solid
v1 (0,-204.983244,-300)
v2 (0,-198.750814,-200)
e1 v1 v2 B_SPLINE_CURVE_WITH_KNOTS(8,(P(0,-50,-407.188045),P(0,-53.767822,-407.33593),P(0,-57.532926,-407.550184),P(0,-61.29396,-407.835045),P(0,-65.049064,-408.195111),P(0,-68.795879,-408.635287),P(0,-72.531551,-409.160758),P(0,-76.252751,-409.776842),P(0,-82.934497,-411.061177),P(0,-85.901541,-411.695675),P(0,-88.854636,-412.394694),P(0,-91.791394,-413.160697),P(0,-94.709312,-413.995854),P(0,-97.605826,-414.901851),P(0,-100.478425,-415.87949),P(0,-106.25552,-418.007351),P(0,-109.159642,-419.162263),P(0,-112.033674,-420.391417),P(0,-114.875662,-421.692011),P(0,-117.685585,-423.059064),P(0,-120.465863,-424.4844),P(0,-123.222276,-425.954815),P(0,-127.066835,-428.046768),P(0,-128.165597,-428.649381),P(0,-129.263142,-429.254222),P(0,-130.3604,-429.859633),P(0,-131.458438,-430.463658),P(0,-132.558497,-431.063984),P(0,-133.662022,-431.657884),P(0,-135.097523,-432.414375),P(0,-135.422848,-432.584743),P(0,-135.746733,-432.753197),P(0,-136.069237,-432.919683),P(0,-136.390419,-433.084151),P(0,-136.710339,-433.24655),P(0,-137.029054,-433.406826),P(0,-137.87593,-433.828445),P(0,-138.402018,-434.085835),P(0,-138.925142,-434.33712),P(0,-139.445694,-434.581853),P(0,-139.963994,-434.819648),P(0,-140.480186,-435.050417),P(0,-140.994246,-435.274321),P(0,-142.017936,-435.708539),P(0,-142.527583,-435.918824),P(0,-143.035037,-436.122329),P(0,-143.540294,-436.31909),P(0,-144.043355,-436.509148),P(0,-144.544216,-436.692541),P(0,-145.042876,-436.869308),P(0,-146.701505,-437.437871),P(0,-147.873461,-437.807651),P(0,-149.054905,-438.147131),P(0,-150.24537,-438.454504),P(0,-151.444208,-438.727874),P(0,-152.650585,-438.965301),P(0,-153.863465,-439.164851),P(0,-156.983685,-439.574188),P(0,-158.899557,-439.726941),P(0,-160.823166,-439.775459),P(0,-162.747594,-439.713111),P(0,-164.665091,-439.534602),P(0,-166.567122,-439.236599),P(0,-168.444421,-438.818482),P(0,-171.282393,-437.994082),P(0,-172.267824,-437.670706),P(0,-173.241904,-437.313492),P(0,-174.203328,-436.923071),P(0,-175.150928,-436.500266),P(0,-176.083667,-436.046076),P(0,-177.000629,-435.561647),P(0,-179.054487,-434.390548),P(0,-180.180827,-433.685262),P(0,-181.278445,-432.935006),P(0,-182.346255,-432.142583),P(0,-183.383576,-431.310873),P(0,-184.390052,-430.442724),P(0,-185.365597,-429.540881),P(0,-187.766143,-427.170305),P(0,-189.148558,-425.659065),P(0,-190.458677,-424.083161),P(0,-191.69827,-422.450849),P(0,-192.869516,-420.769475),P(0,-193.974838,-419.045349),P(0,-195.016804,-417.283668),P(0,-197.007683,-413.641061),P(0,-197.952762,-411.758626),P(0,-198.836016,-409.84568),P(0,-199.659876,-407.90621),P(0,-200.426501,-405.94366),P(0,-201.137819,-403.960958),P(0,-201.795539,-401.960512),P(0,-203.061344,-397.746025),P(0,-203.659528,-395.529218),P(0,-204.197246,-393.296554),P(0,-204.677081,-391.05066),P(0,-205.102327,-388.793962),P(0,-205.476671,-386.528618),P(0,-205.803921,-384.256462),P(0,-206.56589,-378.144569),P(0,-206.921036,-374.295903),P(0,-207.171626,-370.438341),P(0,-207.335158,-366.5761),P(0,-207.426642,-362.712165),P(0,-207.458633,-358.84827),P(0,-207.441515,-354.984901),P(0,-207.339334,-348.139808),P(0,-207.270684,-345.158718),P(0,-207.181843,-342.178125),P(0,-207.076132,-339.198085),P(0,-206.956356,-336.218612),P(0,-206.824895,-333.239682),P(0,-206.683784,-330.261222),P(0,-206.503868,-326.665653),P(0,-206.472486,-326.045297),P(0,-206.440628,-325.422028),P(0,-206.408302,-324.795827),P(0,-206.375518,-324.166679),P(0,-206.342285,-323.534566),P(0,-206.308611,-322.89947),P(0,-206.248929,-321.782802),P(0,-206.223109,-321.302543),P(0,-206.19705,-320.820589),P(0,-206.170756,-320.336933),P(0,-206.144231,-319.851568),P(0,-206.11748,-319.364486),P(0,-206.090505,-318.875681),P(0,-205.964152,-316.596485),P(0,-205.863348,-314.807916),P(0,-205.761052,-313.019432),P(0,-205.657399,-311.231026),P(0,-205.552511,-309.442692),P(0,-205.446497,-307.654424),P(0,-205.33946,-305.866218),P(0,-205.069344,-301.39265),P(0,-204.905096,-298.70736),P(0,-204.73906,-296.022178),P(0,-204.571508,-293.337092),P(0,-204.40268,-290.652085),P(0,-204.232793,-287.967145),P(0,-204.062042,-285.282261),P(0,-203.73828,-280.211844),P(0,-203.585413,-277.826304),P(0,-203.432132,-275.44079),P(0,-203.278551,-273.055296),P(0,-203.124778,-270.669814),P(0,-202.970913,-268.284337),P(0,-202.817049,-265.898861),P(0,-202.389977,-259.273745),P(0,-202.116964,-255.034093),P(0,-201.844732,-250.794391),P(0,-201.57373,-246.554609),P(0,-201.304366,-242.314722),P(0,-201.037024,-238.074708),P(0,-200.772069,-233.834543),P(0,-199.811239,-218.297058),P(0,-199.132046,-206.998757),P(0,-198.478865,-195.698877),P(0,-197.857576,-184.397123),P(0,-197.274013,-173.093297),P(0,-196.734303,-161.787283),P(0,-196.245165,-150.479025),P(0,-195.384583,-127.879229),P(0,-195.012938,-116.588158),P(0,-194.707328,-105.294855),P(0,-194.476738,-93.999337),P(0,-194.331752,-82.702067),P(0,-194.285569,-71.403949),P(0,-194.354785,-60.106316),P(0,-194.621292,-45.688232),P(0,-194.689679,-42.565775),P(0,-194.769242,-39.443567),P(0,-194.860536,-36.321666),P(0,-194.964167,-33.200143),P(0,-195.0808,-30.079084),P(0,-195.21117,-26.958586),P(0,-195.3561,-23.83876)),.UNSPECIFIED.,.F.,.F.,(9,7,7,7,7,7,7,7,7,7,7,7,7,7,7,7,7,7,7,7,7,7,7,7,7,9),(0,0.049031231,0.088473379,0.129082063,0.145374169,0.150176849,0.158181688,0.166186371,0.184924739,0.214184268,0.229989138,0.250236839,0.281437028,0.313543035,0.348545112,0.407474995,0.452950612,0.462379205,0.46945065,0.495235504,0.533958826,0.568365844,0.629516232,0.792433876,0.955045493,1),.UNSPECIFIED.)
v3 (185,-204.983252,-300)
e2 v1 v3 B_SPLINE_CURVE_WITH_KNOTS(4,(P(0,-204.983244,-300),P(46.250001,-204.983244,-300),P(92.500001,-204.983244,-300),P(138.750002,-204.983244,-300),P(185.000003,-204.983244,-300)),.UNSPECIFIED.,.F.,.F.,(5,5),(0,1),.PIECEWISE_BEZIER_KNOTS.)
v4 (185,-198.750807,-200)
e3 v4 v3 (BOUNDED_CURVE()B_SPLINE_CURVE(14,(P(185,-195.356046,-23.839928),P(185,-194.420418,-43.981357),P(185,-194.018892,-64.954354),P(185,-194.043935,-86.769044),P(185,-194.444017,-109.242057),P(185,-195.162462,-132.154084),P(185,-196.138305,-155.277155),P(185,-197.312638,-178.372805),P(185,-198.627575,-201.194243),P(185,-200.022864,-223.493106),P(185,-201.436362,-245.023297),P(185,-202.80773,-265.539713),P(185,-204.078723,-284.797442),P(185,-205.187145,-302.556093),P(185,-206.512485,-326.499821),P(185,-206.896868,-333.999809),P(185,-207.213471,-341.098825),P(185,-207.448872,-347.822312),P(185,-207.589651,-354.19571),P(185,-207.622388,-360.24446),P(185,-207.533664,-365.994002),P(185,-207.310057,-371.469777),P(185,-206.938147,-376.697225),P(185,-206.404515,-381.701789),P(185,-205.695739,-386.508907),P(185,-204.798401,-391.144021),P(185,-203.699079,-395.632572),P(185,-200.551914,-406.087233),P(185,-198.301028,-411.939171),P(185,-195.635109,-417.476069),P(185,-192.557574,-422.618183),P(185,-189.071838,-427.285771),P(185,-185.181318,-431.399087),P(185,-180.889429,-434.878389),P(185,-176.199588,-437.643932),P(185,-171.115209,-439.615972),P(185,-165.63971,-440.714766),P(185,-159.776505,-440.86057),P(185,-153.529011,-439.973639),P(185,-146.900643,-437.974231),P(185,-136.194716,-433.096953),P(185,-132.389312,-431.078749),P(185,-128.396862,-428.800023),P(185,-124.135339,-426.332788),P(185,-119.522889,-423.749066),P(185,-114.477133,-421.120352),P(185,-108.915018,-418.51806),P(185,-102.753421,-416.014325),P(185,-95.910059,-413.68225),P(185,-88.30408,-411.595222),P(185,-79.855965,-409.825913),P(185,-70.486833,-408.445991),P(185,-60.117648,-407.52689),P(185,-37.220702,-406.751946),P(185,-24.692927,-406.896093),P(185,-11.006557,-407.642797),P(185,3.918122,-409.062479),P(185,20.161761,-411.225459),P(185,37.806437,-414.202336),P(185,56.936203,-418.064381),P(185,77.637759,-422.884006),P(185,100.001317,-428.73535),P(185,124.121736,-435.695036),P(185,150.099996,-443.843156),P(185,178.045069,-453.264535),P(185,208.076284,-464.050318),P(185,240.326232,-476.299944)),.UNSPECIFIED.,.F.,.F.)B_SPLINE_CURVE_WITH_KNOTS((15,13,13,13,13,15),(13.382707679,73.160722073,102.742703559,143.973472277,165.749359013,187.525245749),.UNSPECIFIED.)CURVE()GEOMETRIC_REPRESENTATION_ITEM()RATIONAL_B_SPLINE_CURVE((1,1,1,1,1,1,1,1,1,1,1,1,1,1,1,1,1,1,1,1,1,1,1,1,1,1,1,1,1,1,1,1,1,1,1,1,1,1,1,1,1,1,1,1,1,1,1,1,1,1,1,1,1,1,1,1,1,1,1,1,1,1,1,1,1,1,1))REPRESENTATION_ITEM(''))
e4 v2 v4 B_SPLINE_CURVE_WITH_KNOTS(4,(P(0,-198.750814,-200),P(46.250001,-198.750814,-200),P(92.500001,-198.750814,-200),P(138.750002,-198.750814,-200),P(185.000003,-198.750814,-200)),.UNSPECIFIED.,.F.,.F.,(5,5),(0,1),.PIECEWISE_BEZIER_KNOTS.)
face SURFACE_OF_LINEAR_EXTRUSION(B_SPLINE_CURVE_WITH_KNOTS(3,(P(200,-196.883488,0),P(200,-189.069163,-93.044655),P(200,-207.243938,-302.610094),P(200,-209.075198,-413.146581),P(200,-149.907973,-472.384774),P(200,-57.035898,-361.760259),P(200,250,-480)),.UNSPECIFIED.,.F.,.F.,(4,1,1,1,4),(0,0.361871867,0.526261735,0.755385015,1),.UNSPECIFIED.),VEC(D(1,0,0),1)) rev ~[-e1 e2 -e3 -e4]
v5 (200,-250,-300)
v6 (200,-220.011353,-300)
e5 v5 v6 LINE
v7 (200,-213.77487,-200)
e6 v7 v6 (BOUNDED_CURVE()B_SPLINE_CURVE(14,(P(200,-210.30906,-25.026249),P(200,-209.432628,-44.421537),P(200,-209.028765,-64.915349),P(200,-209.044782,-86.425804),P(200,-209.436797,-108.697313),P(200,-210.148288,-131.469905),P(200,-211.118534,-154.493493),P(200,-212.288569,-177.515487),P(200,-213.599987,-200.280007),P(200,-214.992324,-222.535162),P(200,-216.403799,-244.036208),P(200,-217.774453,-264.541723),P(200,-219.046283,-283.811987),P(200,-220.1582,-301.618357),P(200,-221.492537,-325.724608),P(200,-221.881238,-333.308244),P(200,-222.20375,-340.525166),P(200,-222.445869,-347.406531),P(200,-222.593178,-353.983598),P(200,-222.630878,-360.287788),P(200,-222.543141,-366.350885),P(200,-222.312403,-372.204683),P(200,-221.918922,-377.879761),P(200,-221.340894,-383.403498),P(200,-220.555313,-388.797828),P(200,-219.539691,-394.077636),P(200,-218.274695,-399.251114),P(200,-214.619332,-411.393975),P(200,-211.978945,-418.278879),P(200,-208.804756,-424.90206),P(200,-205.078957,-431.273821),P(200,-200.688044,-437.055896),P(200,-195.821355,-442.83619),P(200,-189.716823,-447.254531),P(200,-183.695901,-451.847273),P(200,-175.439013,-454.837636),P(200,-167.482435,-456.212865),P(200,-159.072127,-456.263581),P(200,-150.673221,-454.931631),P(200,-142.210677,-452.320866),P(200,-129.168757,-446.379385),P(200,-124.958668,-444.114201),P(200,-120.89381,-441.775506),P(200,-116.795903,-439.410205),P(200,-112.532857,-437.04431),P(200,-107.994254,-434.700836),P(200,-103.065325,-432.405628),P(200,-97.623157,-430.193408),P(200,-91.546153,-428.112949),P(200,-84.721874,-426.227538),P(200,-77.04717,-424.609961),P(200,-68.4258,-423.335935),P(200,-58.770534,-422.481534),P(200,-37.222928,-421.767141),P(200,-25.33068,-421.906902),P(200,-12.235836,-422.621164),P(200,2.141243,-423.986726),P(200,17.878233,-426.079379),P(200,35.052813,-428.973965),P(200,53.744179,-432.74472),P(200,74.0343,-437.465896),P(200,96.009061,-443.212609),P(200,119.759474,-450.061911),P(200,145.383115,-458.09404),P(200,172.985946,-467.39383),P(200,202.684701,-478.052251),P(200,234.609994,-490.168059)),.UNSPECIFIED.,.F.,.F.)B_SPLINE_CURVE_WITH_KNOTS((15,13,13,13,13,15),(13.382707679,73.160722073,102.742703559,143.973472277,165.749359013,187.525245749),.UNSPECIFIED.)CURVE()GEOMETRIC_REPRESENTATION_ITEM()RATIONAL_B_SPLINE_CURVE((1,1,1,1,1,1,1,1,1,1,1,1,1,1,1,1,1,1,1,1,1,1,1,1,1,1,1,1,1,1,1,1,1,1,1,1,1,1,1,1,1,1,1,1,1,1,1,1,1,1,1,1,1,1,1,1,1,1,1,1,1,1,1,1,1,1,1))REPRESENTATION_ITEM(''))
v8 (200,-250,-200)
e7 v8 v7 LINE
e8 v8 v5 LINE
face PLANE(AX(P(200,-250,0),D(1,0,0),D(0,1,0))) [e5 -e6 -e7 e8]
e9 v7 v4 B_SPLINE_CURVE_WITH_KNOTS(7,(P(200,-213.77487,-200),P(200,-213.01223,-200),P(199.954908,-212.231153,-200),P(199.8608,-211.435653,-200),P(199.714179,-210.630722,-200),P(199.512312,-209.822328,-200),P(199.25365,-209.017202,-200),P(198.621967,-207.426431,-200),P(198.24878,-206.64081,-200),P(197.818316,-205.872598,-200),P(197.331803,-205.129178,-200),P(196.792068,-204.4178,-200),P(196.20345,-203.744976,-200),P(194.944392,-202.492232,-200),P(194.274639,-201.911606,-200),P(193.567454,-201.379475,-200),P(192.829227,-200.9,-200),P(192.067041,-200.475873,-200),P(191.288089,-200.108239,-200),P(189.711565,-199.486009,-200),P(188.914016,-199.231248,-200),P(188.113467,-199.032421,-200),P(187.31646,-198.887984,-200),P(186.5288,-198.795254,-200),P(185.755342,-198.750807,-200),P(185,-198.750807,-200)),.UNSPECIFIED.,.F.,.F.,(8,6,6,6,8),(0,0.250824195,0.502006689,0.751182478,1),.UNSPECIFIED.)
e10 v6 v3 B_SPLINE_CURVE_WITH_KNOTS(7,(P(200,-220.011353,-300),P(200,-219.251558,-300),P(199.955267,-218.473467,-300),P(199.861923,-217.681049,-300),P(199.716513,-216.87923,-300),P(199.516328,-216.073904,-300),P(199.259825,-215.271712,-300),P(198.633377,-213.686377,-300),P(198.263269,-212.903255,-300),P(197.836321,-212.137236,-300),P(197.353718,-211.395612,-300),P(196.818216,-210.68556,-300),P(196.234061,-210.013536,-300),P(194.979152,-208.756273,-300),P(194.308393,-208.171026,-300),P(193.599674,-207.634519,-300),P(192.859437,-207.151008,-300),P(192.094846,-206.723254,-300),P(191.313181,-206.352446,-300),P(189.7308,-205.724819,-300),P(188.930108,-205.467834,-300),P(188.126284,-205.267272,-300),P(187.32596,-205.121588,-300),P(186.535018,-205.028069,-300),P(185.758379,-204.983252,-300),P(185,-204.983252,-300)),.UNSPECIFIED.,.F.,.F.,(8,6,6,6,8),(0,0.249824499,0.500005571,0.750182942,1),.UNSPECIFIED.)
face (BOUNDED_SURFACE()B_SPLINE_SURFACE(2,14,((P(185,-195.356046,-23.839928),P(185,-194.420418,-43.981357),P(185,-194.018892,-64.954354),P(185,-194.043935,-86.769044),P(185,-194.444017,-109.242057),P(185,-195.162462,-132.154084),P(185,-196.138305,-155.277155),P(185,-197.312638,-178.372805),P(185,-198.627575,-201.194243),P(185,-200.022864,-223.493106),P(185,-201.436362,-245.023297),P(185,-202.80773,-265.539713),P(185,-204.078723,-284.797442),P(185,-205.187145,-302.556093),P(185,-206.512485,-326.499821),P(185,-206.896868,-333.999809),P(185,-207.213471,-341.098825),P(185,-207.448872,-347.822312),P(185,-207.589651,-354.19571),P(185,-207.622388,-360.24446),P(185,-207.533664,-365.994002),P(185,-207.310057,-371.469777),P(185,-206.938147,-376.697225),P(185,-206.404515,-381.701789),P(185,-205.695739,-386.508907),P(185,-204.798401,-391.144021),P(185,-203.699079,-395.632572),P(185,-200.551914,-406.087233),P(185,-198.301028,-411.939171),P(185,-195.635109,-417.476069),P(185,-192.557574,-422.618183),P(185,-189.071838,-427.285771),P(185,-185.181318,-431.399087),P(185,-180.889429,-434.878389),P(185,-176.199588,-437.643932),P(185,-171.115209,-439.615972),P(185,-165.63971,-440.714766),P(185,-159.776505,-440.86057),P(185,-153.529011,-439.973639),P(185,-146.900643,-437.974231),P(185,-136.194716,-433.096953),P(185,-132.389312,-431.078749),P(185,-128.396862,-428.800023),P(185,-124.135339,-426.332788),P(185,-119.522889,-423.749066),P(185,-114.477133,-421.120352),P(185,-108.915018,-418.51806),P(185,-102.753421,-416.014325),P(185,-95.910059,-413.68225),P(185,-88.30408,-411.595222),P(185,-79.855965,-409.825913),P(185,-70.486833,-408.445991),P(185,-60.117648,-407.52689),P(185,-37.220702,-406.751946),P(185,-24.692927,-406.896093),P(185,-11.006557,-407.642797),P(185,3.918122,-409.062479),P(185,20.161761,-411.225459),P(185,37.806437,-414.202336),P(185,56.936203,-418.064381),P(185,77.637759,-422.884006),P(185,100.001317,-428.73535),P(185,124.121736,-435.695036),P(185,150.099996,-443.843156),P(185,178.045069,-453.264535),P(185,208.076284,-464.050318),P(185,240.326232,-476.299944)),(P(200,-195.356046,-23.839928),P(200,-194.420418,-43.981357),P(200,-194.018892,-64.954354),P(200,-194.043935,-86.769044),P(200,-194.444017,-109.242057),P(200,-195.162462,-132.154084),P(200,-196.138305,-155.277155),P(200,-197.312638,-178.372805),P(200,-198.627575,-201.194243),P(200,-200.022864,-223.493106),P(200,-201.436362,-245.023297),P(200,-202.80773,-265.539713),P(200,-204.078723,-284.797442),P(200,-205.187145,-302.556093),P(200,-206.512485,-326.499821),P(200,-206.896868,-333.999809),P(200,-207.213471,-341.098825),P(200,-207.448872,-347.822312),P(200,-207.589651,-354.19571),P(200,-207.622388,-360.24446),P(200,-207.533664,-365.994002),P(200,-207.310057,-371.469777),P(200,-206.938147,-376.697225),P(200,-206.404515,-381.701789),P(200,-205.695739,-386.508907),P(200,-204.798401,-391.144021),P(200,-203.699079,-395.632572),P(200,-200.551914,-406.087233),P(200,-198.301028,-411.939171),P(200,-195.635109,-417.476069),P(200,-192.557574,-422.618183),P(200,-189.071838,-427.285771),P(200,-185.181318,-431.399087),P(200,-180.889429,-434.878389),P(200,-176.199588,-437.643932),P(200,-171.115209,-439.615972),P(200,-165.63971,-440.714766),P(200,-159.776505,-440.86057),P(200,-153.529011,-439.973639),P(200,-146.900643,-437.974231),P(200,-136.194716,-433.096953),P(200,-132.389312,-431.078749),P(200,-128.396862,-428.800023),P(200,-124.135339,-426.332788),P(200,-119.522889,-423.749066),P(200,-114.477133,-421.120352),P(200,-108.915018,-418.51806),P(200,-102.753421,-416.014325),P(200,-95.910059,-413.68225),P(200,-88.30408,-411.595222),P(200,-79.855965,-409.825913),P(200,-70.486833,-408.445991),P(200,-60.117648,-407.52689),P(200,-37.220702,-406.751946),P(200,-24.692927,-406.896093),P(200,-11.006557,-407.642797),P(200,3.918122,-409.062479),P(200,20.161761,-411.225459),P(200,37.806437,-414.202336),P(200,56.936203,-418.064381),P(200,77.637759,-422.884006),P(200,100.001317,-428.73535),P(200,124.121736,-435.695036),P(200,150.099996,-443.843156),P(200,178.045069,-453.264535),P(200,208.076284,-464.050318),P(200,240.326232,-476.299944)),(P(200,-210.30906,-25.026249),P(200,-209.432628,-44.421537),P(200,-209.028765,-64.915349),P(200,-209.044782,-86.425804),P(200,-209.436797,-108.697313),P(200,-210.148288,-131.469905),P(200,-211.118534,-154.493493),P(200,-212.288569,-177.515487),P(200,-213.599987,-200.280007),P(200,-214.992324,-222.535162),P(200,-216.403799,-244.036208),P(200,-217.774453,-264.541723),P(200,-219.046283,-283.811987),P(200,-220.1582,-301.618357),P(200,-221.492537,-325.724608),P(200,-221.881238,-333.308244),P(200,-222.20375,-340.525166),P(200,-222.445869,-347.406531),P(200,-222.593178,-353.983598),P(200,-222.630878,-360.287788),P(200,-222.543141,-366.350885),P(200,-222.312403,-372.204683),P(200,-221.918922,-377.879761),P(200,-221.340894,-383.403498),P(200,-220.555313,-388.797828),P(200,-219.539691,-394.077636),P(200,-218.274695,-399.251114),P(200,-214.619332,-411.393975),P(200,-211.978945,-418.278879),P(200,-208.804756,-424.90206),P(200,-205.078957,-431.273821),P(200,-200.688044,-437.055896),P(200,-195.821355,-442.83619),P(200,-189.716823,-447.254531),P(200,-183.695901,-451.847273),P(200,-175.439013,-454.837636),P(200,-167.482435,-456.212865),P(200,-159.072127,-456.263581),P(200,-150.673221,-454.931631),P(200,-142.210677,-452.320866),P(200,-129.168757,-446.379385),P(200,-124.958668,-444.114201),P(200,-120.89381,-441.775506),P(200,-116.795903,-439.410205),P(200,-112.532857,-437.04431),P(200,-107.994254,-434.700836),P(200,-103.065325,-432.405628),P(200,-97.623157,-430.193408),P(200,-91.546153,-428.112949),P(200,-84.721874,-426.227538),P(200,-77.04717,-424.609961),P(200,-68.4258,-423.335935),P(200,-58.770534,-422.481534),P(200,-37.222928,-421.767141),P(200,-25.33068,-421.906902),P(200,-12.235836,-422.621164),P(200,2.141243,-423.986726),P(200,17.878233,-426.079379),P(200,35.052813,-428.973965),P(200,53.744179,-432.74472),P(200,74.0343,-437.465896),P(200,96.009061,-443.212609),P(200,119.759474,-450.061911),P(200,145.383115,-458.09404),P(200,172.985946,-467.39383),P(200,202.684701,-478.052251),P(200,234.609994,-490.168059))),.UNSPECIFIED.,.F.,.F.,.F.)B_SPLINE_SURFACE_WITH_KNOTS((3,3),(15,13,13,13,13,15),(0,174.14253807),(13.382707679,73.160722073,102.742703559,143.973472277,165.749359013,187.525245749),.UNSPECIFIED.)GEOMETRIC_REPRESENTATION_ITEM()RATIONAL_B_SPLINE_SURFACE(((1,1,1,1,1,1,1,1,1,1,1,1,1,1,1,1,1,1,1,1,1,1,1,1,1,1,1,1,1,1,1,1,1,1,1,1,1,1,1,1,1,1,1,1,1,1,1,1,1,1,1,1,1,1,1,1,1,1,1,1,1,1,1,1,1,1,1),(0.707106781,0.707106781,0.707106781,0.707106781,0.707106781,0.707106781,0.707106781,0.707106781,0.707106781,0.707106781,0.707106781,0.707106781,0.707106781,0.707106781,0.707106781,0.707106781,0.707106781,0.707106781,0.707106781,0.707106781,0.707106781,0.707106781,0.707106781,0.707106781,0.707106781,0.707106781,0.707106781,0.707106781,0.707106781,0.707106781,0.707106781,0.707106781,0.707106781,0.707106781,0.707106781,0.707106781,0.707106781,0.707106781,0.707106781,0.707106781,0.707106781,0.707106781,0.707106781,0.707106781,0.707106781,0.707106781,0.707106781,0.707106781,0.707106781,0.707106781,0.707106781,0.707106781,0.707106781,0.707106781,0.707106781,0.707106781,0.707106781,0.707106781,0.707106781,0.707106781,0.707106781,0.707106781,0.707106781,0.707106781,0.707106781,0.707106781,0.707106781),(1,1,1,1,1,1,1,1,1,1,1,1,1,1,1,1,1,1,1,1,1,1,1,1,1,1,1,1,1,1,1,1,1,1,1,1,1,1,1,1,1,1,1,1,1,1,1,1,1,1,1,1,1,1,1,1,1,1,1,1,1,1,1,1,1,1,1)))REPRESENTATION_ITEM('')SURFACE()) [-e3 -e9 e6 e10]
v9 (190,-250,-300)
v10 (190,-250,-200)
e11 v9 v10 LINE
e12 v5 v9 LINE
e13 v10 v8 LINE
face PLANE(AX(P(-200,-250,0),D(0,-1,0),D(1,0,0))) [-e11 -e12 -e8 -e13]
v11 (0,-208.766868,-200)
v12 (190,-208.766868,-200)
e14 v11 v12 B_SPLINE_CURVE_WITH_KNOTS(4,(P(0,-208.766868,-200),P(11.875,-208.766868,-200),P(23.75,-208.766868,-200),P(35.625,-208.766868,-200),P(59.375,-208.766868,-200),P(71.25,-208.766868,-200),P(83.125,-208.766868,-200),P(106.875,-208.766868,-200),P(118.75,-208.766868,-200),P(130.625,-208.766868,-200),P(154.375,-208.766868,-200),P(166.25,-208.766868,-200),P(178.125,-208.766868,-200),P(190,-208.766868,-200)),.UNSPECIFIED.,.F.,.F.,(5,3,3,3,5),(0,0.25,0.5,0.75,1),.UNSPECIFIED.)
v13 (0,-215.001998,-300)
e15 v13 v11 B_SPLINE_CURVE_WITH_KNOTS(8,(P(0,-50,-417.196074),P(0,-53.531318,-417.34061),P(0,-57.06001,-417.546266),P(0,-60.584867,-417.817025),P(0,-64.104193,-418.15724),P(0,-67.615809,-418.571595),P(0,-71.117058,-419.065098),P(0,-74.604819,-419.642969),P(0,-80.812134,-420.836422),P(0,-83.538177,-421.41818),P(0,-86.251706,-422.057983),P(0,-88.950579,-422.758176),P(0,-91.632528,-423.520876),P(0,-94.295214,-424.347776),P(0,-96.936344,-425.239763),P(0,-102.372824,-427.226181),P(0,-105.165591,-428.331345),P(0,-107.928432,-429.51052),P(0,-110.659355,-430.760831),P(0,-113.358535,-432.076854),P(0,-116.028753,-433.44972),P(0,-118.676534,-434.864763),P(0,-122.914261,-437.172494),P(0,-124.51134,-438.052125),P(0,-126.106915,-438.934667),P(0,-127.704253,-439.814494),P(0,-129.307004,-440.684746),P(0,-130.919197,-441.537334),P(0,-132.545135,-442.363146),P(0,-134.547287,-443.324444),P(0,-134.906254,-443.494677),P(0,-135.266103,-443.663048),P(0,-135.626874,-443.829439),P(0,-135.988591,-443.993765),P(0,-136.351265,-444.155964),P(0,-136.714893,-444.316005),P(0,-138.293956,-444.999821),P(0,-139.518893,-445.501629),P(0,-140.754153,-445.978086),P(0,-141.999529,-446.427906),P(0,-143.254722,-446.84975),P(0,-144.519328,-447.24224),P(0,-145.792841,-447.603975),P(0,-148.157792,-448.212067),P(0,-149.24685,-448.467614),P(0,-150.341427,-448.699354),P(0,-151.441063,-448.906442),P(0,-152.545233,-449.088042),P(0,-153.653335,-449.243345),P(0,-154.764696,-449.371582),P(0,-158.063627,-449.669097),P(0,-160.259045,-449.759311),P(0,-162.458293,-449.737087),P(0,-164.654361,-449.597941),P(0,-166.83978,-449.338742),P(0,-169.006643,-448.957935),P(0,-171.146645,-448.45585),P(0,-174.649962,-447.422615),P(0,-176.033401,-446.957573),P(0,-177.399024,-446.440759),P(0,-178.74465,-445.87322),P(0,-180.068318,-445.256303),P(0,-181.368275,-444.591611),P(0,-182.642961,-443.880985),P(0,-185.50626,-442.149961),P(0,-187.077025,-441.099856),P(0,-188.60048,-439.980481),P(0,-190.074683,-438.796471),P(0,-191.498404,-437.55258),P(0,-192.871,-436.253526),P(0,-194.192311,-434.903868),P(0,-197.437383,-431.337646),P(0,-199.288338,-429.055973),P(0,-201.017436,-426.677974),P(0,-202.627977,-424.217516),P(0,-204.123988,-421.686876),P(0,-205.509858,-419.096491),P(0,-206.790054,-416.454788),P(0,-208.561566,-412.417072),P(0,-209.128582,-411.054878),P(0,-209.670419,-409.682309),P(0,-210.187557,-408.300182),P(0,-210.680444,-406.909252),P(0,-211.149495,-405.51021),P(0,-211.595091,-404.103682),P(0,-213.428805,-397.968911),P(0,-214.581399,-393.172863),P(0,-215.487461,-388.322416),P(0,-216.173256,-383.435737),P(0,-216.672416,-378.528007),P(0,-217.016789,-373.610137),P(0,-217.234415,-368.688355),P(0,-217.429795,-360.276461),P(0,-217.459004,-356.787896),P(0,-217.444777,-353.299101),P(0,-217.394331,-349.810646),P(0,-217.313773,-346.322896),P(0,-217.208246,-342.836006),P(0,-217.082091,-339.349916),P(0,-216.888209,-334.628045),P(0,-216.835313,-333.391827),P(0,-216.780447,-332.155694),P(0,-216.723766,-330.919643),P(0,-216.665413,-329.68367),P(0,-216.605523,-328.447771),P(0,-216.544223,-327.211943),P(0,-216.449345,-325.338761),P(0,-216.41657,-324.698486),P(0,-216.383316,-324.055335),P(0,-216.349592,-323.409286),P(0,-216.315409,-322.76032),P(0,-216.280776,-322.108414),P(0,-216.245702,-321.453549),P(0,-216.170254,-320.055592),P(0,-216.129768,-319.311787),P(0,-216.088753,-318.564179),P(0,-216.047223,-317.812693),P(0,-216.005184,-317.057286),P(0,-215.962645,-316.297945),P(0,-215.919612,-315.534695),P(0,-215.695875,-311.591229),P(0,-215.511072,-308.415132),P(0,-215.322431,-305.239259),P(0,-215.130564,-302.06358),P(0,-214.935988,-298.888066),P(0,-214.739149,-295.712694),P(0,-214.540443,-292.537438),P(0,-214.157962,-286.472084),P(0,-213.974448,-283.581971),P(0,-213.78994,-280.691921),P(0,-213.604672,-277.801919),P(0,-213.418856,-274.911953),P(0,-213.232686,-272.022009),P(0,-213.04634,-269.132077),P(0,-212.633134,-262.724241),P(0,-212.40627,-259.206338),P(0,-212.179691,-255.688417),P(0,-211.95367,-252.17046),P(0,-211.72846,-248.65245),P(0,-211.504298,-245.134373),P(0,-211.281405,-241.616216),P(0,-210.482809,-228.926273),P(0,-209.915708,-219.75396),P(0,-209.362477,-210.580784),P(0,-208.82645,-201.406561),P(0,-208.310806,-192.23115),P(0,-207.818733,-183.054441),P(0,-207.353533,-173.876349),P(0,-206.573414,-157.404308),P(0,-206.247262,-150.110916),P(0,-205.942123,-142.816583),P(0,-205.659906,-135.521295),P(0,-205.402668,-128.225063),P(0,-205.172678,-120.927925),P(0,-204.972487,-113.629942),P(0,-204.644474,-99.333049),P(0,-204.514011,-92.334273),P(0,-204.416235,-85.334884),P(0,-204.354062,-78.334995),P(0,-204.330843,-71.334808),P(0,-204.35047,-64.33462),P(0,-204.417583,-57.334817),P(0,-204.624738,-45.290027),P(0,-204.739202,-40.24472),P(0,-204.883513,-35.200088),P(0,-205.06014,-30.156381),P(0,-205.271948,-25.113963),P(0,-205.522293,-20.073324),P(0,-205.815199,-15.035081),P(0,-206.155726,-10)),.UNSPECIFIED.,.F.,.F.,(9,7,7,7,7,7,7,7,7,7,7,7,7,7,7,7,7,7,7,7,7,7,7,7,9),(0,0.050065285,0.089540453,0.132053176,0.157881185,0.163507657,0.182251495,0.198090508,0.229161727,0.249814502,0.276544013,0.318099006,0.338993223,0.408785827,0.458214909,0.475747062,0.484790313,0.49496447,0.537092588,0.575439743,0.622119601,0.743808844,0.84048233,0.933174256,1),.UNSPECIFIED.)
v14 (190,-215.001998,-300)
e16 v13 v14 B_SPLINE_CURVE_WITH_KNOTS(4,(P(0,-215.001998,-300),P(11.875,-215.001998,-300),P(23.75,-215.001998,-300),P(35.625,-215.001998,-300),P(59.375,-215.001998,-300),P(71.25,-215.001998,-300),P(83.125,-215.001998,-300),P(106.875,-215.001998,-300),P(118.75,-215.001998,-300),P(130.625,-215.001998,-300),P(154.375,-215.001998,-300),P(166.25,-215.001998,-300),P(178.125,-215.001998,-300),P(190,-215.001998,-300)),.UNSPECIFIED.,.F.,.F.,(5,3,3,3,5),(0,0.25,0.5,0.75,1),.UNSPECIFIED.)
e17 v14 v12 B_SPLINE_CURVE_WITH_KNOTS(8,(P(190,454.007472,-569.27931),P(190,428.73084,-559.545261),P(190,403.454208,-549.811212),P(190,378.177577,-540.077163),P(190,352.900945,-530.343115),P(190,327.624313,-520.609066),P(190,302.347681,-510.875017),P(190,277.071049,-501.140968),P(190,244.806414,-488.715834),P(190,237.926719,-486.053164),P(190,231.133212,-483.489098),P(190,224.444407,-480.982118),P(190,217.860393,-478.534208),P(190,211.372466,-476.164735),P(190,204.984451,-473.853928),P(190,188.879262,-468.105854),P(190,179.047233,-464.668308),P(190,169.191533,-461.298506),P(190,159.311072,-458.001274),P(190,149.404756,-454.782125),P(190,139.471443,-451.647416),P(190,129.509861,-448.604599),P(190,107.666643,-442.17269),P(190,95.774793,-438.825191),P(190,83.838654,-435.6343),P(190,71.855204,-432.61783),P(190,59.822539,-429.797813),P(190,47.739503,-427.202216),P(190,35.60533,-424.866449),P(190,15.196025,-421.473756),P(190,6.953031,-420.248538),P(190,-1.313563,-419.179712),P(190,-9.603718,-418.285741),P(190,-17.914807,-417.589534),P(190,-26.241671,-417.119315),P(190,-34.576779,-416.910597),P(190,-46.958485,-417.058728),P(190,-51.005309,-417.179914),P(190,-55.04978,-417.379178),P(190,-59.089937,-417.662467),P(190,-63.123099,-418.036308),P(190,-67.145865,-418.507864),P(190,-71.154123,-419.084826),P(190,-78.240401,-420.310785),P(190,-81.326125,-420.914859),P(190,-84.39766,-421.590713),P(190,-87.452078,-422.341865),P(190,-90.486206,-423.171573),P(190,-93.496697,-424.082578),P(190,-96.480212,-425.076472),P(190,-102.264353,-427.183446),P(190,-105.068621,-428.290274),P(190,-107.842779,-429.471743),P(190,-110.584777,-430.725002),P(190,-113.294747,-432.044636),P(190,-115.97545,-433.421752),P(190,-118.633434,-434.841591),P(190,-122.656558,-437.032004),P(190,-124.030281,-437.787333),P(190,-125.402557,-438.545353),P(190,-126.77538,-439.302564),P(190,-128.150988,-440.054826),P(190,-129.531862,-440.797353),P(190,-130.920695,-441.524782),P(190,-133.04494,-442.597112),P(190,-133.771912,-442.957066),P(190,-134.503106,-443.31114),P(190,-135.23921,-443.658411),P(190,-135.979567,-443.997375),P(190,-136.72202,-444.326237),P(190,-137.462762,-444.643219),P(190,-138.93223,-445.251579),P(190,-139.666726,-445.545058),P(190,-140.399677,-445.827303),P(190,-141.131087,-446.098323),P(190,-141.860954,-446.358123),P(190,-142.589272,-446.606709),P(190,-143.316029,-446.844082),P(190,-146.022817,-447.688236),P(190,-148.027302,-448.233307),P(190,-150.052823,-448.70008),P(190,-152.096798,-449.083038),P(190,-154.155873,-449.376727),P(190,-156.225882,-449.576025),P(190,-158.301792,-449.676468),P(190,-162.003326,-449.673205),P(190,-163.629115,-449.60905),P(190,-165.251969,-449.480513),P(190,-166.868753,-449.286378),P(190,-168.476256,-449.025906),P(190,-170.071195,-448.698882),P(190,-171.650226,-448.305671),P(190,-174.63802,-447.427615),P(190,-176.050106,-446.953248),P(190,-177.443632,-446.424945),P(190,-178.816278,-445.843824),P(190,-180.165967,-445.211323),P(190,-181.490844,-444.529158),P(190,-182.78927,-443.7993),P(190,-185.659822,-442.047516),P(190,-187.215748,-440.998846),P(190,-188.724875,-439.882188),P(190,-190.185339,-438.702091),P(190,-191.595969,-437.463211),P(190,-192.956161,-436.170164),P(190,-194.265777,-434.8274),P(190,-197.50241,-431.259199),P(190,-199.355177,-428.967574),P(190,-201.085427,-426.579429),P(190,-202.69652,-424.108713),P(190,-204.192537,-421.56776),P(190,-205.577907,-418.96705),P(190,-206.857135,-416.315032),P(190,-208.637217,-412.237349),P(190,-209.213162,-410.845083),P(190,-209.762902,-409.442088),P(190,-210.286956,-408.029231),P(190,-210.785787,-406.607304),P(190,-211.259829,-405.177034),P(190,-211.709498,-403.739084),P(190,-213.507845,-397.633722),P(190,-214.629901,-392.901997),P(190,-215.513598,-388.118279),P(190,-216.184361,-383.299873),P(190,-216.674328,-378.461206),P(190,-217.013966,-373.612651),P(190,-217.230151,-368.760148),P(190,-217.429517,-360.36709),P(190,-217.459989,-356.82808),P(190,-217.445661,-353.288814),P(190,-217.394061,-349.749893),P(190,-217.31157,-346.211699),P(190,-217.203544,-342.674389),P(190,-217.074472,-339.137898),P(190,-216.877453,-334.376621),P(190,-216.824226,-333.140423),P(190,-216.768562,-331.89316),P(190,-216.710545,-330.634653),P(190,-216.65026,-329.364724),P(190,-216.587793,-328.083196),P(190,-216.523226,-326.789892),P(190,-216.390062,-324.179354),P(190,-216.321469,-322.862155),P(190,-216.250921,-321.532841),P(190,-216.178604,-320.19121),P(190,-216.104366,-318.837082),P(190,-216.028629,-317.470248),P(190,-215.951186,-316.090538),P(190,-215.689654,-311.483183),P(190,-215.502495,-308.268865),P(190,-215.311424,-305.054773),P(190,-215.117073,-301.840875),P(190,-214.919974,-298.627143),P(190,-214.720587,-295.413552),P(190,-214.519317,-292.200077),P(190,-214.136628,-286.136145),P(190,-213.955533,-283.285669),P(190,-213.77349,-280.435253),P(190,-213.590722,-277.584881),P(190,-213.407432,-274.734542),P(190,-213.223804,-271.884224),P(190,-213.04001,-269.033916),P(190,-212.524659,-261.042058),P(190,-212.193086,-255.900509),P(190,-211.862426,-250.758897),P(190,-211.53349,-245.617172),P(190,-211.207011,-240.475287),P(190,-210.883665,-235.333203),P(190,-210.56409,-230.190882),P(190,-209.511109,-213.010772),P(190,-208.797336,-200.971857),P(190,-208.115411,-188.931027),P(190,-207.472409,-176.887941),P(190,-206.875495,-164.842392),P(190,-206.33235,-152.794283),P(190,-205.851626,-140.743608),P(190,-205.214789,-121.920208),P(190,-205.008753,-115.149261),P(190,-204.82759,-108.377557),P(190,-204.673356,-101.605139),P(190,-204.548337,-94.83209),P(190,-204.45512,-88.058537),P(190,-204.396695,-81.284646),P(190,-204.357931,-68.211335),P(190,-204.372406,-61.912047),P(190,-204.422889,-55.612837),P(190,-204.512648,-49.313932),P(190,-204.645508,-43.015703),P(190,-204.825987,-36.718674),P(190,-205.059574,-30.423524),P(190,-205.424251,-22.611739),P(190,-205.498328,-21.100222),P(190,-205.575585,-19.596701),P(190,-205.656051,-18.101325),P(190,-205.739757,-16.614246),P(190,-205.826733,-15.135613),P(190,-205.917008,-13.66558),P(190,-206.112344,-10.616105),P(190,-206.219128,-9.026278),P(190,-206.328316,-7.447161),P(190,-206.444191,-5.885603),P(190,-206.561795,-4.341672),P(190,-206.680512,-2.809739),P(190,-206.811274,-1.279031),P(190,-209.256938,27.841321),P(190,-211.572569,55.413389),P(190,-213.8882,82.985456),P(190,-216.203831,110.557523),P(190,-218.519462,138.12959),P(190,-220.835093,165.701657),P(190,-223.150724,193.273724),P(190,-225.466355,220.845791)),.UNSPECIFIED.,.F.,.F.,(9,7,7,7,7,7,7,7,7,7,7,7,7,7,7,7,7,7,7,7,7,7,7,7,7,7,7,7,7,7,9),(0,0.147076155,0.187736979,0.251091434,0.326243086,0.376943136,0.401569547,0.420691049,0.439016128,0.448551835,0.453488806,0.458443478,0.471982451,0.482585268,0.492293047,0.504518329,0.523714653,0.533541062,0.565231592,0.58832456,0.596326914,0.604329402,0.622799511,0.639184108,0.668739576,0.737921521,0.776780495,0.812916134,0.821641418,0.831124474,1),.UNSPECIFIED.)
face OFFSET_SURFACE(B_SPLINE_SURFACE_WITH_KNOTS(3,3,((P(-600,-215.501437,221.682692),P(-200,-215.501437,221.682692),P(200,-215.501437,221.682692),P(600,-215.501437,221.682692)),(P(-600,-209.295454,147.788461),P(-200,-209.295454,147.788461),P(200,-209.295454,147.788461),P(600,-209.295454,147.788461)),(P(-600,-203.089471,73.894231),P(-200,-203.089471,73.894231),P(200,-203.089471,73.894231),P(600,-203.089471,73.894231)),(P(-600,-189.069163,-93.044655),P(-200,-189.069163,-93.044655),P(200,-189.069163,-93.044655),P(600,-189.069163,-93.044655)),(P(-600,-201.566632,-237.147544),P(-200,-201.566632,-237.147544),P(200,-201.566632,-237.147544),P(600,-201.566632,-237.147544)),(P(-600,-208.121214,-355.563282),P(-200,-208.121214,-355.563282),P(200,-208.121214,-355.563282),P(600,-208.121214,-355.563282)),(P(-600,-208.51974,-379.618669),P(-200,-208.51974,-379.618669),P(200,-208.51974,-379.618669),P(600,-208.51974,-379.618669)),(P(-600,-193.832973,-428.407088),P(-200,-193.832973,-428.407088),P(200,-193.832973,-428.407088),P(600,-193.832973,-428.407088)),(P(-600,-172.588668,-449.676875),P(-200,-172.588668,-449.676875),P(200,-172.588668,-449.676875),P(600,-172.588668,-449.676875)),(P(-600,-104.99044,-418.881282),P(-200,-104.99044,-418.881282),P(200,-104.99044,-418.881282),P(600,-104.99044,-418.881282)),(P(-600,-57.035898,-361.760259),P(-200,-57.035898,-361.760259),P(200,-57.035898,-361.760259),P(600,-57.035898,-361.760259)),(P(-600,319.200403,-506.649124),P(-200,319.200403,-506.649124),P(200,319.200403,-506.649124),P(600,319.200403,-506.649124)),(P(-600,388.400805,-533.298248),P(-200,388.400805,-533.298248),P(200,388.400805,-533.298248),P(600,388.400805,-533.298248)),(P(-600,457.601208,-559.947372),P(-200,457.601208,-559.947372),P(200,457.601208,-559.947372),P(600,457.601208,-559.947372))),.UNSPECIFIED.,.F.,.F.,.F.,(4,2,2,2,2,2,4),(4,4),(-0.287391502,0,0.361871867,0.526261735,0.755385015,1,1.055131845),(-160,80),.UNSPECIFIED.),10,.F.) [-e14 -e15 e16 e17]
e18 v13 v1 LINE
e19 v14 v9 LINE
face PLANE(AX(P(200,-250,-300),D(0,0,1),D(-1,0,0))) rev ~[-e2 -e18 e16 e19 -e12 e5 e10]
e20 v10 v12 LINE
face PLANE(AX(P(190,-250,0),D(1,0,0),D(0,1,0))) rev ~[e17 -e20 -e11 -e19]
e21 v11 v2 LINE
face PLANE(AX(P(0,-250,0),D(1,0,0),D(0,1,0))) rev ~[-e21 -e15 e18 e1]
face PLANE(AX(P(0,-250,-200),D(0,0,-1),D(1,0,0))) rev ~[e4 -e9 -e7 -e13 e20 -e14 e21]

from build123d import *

# Parameters (mm, degrees)
SKETCH_1_W           = 80
SKETCH_1_H           = 100
EXTRUDE_1_DEPTH      = 100
SKETCH_2_W           = 80
SKETCH_2_H           = 85
CUT_EXTRUDE_1_DEPTH  = 90
CUT_EXTRUDE_5_DEPTH  = 138.477270849
SHELL_2_T            = -2
FILLET_1_R           = 3
FILLET_2_R           = 5
FILLET_3_R           = 3
SKETCH_6_W           = 3.8
SKETCH_6_H           = 2.5
CUT_EXTRUDE_6_DEPTH  = 85
SKETCH_8_W           = 5
SKETCH_8_H           = 5
CUT_EXTRUDE_7_DEPTH  = 100
SKETCH_11_W          = 2
SKETCH_11_H          = 1
CUT_EXTRUDE_8_DEPTH  = 119.74342103
SCALE_1_SCALE        = 5
SKETCH_12_W          = 400
SKETCH_12_H          = 300
SKETCH_12_W_2        = 185
SKETCH_12_H_2        = 29.670884313
CUT_EXTRUDE_11_DEPTH = 594.717104512
SKETCH_15_W          = 190
SKETCH_15_H          = 190
SKETCH_15_H_2        = 200
SKETCH_15_W_2        = 10
CUT_EXTRUDE_13_DEPTH = 575.45626481


with BuildPart() as part:
    # 스케치1 → 보스-돌출1 (new body)
    with BuildSketch(Plane.XY):
        Rectangle(SKETCH_1_W, SKETCH_1_H)
    extrude(amount=-EXTRUDE_1_DEPTH)

    # 스케치2 → 컷-돌출1 (cut)
    with BuildSketch(Plane(origin=(40, 0, 0), x_dir=(0, 0, -1), z_dir=(1, 0, 0))):
        with Locations((40, 7.5)):
            Rectangle(SKETCH_2_W, SKETCH_2_H)
    extrude(amount=-CUT_EXTRUDE_1_DEPTH, mode=Mode.SUBTRACT)

    # 스케치5 → 컷-돌출5 (cut, through all)
    with BuildSketch(Plane(origin=(40, 0, 0), x_dir=(0, 0, -1), z_dir=(1, 0, 0))):
        with BuildLine():
            add(Edge.make_bspline(
                [(0, -39.376697629), (18.60893103, -37.813832642), (60.522018707, -41.448787519), (82.629316251, -41.815039561), (94.476954899, -29.981594577), (72.35205171, -11.407179683), (96, 50)],
                knots=[0, 0, 0, 0, 0.361871867, 0.526261735, 0.755385015, 1, 1, 1, 1], degree=3))
            Line((96, 50), (80, 50))
            Line((80, 50), (80, -35))
            Line((80, -35), (0, -35))
            Line((0, -35), (0, -39.376697629))
        make_face()
    extrude(amount=-CUT_EXTRUDE_5_DEPTH, mode=Mode.SUBTRACT)

    # 쉘2
    shell_2_openings = [part.faces().sort_by_distance(p)[0] for p in [
        (0, 0, -100),
        (0, -50, -50),
    ]]
    offset(amount=SHELL_2_T, openings=shell_2_openings, kind=Kind.INTERSECTION)

    # 필렛1
    fillet_1_edges = [part.edges().sort_by_distance(p)[0] for p in [
        (0, 50, -96),
    ]]
    fillet(fillet_1_edges, radius=FILLET_1_R)

    # 필렛2
    fillet_2_edges = [part.edges().sort_by_distance(p)[0] for p in [
        (0, -39.376697629, 0),
    ]]
    fillet(fillet_2_edges, radius=FILLET_2_R)

    # 필렛3
    fillet_3_edges = [part.edges().sort_by_distance(p)[0] for p in [
        (40, -47.032911569, 0),
        (40, 49.469386486, -96.360930071),
        (-40, 49.469386486, -96.360930071),
        (40, -34.292790316, -87.583679146),
        (-40, -34.292790311, -87.583679133),
        (40, -40.61329303, -1.383366779),
        (-40, -47.032911569, 0),
        (-40, -40.61329303, -1.383366779),
        (-40, 50, -99.032247048),
        (40, 50, -99.032247048),
    ]]
    fillet(fillet_3_edges, radius=FILLET_3_R)

    # 스케치6 → 컷-돌출6 (cut)
    with BuildSketch(Plane(origin=(0, 0, -100), x_dir=(-1, 0, 0), z_dir=(0, 0, -1))):
        with Locations((-10, 10)):
            Rectangle(SKETCH_6_W, SKETCH_6_H)
        with Locations((10, 10)):
            Rectangle(SKETCH_6_W, SKETCH_6_H)
    extrude(amount=-CUT_EXTRUDE_6_DEPTH, mode=Mode.SUBTRACT)

    # 스케치8 → 컷-돌출7 (cut)
    with BuildSketch(Plane(origin=(0, 50, 0), x_dir=(1, 0, 0), z_dir=(0, 1, 0))):
        with Locations((-20, 69.358931696)):
            Rectangle(SKETCH_8_W, SKETCH_8_H)
        with Locations((20, 69.358931696)):
            Rectangle(SKETCH_8_W, SKETCH_8_H)
    extrude(amount=-CUT_EXTRUDE_7_DEPTH, mode=Mode.SUBTRACT)

    # 스케치11 → 컷-돌출8 (cut, through all)
    with BuildSketch(Plane(origin=(0, 0, -100), x_dir=(-1, 0, 0), z_dir=(0, 0, -1))):
        with Locations((-10, 3.626900341)):
            Rectangle(SKETCH_11_W, SKETCH_11_H)
        with Locations((10, 3.626900341)):
            Rectangle(SKETCH_11_W, SKETCH_11_H)
    extrude(amount=-CUT_EXTRUDE_8_DEPTH, mode=Mode.SUBTRACT)


with BuildPart() as part_1:
    # 축척1: scaled about (0, 0, 0)
    add(part.part.scale(SCALE_1_SCALE))

    # 스케치12 → 컷-돌출11 (cut, through all)
    with BuildSketch(Plane.XY):
        with Locations((0, 100)):
            Rectangle(SKETCH_12_W, SKETCH_12_H)
        Polygon((0, -50), (-200, -50), (-200, -250), (-185, -250), (-185, -220.329115687), (0, -220.329115687), align=None)
        with Locations((-92.5, -235.164557844)):
            Rectangle(SKETCH_12_W_2, SKETCH_12_H_2)
    extrude(amount=-CUT_EXTRUDE_11_DEPTH, mode=Mode.SUBTRACT)

    # 스케치15 → 컷-돌출13 (cut, through all)
    with BuildSketch(Plane.XZ.offset(250)):
        with Locations((95, -105)):
            Rectangle(SKETCH_15_W, SKETCH_15_H)
        with BuildLine():
            Line((190, -200), (200, -200))
            Line((200, -200), (200, -15))
            ThreePointArc((200, -15), (195.606601718, -4.393398282), (185, 0))
            Line((185, 0), (0, 0))
            Line((0, 0), (0, -10))
            Line((0, -10), (190, -10))
            Line((190, -10), (190, -200))
        make_face()
        with Locations((95, -400)):
            Rectangle(SKETCH_15_W, SKETCH_15_H_2)
        with Locations((195, -400)):
            Rectangle(SKETCH_15_W_2, SKETCH_15_H_2)
    extrude(amount=-CUT_EXTRUDE_13_DEPTH, mode=Mode.SUBTRACT)


solid = part_1.part
